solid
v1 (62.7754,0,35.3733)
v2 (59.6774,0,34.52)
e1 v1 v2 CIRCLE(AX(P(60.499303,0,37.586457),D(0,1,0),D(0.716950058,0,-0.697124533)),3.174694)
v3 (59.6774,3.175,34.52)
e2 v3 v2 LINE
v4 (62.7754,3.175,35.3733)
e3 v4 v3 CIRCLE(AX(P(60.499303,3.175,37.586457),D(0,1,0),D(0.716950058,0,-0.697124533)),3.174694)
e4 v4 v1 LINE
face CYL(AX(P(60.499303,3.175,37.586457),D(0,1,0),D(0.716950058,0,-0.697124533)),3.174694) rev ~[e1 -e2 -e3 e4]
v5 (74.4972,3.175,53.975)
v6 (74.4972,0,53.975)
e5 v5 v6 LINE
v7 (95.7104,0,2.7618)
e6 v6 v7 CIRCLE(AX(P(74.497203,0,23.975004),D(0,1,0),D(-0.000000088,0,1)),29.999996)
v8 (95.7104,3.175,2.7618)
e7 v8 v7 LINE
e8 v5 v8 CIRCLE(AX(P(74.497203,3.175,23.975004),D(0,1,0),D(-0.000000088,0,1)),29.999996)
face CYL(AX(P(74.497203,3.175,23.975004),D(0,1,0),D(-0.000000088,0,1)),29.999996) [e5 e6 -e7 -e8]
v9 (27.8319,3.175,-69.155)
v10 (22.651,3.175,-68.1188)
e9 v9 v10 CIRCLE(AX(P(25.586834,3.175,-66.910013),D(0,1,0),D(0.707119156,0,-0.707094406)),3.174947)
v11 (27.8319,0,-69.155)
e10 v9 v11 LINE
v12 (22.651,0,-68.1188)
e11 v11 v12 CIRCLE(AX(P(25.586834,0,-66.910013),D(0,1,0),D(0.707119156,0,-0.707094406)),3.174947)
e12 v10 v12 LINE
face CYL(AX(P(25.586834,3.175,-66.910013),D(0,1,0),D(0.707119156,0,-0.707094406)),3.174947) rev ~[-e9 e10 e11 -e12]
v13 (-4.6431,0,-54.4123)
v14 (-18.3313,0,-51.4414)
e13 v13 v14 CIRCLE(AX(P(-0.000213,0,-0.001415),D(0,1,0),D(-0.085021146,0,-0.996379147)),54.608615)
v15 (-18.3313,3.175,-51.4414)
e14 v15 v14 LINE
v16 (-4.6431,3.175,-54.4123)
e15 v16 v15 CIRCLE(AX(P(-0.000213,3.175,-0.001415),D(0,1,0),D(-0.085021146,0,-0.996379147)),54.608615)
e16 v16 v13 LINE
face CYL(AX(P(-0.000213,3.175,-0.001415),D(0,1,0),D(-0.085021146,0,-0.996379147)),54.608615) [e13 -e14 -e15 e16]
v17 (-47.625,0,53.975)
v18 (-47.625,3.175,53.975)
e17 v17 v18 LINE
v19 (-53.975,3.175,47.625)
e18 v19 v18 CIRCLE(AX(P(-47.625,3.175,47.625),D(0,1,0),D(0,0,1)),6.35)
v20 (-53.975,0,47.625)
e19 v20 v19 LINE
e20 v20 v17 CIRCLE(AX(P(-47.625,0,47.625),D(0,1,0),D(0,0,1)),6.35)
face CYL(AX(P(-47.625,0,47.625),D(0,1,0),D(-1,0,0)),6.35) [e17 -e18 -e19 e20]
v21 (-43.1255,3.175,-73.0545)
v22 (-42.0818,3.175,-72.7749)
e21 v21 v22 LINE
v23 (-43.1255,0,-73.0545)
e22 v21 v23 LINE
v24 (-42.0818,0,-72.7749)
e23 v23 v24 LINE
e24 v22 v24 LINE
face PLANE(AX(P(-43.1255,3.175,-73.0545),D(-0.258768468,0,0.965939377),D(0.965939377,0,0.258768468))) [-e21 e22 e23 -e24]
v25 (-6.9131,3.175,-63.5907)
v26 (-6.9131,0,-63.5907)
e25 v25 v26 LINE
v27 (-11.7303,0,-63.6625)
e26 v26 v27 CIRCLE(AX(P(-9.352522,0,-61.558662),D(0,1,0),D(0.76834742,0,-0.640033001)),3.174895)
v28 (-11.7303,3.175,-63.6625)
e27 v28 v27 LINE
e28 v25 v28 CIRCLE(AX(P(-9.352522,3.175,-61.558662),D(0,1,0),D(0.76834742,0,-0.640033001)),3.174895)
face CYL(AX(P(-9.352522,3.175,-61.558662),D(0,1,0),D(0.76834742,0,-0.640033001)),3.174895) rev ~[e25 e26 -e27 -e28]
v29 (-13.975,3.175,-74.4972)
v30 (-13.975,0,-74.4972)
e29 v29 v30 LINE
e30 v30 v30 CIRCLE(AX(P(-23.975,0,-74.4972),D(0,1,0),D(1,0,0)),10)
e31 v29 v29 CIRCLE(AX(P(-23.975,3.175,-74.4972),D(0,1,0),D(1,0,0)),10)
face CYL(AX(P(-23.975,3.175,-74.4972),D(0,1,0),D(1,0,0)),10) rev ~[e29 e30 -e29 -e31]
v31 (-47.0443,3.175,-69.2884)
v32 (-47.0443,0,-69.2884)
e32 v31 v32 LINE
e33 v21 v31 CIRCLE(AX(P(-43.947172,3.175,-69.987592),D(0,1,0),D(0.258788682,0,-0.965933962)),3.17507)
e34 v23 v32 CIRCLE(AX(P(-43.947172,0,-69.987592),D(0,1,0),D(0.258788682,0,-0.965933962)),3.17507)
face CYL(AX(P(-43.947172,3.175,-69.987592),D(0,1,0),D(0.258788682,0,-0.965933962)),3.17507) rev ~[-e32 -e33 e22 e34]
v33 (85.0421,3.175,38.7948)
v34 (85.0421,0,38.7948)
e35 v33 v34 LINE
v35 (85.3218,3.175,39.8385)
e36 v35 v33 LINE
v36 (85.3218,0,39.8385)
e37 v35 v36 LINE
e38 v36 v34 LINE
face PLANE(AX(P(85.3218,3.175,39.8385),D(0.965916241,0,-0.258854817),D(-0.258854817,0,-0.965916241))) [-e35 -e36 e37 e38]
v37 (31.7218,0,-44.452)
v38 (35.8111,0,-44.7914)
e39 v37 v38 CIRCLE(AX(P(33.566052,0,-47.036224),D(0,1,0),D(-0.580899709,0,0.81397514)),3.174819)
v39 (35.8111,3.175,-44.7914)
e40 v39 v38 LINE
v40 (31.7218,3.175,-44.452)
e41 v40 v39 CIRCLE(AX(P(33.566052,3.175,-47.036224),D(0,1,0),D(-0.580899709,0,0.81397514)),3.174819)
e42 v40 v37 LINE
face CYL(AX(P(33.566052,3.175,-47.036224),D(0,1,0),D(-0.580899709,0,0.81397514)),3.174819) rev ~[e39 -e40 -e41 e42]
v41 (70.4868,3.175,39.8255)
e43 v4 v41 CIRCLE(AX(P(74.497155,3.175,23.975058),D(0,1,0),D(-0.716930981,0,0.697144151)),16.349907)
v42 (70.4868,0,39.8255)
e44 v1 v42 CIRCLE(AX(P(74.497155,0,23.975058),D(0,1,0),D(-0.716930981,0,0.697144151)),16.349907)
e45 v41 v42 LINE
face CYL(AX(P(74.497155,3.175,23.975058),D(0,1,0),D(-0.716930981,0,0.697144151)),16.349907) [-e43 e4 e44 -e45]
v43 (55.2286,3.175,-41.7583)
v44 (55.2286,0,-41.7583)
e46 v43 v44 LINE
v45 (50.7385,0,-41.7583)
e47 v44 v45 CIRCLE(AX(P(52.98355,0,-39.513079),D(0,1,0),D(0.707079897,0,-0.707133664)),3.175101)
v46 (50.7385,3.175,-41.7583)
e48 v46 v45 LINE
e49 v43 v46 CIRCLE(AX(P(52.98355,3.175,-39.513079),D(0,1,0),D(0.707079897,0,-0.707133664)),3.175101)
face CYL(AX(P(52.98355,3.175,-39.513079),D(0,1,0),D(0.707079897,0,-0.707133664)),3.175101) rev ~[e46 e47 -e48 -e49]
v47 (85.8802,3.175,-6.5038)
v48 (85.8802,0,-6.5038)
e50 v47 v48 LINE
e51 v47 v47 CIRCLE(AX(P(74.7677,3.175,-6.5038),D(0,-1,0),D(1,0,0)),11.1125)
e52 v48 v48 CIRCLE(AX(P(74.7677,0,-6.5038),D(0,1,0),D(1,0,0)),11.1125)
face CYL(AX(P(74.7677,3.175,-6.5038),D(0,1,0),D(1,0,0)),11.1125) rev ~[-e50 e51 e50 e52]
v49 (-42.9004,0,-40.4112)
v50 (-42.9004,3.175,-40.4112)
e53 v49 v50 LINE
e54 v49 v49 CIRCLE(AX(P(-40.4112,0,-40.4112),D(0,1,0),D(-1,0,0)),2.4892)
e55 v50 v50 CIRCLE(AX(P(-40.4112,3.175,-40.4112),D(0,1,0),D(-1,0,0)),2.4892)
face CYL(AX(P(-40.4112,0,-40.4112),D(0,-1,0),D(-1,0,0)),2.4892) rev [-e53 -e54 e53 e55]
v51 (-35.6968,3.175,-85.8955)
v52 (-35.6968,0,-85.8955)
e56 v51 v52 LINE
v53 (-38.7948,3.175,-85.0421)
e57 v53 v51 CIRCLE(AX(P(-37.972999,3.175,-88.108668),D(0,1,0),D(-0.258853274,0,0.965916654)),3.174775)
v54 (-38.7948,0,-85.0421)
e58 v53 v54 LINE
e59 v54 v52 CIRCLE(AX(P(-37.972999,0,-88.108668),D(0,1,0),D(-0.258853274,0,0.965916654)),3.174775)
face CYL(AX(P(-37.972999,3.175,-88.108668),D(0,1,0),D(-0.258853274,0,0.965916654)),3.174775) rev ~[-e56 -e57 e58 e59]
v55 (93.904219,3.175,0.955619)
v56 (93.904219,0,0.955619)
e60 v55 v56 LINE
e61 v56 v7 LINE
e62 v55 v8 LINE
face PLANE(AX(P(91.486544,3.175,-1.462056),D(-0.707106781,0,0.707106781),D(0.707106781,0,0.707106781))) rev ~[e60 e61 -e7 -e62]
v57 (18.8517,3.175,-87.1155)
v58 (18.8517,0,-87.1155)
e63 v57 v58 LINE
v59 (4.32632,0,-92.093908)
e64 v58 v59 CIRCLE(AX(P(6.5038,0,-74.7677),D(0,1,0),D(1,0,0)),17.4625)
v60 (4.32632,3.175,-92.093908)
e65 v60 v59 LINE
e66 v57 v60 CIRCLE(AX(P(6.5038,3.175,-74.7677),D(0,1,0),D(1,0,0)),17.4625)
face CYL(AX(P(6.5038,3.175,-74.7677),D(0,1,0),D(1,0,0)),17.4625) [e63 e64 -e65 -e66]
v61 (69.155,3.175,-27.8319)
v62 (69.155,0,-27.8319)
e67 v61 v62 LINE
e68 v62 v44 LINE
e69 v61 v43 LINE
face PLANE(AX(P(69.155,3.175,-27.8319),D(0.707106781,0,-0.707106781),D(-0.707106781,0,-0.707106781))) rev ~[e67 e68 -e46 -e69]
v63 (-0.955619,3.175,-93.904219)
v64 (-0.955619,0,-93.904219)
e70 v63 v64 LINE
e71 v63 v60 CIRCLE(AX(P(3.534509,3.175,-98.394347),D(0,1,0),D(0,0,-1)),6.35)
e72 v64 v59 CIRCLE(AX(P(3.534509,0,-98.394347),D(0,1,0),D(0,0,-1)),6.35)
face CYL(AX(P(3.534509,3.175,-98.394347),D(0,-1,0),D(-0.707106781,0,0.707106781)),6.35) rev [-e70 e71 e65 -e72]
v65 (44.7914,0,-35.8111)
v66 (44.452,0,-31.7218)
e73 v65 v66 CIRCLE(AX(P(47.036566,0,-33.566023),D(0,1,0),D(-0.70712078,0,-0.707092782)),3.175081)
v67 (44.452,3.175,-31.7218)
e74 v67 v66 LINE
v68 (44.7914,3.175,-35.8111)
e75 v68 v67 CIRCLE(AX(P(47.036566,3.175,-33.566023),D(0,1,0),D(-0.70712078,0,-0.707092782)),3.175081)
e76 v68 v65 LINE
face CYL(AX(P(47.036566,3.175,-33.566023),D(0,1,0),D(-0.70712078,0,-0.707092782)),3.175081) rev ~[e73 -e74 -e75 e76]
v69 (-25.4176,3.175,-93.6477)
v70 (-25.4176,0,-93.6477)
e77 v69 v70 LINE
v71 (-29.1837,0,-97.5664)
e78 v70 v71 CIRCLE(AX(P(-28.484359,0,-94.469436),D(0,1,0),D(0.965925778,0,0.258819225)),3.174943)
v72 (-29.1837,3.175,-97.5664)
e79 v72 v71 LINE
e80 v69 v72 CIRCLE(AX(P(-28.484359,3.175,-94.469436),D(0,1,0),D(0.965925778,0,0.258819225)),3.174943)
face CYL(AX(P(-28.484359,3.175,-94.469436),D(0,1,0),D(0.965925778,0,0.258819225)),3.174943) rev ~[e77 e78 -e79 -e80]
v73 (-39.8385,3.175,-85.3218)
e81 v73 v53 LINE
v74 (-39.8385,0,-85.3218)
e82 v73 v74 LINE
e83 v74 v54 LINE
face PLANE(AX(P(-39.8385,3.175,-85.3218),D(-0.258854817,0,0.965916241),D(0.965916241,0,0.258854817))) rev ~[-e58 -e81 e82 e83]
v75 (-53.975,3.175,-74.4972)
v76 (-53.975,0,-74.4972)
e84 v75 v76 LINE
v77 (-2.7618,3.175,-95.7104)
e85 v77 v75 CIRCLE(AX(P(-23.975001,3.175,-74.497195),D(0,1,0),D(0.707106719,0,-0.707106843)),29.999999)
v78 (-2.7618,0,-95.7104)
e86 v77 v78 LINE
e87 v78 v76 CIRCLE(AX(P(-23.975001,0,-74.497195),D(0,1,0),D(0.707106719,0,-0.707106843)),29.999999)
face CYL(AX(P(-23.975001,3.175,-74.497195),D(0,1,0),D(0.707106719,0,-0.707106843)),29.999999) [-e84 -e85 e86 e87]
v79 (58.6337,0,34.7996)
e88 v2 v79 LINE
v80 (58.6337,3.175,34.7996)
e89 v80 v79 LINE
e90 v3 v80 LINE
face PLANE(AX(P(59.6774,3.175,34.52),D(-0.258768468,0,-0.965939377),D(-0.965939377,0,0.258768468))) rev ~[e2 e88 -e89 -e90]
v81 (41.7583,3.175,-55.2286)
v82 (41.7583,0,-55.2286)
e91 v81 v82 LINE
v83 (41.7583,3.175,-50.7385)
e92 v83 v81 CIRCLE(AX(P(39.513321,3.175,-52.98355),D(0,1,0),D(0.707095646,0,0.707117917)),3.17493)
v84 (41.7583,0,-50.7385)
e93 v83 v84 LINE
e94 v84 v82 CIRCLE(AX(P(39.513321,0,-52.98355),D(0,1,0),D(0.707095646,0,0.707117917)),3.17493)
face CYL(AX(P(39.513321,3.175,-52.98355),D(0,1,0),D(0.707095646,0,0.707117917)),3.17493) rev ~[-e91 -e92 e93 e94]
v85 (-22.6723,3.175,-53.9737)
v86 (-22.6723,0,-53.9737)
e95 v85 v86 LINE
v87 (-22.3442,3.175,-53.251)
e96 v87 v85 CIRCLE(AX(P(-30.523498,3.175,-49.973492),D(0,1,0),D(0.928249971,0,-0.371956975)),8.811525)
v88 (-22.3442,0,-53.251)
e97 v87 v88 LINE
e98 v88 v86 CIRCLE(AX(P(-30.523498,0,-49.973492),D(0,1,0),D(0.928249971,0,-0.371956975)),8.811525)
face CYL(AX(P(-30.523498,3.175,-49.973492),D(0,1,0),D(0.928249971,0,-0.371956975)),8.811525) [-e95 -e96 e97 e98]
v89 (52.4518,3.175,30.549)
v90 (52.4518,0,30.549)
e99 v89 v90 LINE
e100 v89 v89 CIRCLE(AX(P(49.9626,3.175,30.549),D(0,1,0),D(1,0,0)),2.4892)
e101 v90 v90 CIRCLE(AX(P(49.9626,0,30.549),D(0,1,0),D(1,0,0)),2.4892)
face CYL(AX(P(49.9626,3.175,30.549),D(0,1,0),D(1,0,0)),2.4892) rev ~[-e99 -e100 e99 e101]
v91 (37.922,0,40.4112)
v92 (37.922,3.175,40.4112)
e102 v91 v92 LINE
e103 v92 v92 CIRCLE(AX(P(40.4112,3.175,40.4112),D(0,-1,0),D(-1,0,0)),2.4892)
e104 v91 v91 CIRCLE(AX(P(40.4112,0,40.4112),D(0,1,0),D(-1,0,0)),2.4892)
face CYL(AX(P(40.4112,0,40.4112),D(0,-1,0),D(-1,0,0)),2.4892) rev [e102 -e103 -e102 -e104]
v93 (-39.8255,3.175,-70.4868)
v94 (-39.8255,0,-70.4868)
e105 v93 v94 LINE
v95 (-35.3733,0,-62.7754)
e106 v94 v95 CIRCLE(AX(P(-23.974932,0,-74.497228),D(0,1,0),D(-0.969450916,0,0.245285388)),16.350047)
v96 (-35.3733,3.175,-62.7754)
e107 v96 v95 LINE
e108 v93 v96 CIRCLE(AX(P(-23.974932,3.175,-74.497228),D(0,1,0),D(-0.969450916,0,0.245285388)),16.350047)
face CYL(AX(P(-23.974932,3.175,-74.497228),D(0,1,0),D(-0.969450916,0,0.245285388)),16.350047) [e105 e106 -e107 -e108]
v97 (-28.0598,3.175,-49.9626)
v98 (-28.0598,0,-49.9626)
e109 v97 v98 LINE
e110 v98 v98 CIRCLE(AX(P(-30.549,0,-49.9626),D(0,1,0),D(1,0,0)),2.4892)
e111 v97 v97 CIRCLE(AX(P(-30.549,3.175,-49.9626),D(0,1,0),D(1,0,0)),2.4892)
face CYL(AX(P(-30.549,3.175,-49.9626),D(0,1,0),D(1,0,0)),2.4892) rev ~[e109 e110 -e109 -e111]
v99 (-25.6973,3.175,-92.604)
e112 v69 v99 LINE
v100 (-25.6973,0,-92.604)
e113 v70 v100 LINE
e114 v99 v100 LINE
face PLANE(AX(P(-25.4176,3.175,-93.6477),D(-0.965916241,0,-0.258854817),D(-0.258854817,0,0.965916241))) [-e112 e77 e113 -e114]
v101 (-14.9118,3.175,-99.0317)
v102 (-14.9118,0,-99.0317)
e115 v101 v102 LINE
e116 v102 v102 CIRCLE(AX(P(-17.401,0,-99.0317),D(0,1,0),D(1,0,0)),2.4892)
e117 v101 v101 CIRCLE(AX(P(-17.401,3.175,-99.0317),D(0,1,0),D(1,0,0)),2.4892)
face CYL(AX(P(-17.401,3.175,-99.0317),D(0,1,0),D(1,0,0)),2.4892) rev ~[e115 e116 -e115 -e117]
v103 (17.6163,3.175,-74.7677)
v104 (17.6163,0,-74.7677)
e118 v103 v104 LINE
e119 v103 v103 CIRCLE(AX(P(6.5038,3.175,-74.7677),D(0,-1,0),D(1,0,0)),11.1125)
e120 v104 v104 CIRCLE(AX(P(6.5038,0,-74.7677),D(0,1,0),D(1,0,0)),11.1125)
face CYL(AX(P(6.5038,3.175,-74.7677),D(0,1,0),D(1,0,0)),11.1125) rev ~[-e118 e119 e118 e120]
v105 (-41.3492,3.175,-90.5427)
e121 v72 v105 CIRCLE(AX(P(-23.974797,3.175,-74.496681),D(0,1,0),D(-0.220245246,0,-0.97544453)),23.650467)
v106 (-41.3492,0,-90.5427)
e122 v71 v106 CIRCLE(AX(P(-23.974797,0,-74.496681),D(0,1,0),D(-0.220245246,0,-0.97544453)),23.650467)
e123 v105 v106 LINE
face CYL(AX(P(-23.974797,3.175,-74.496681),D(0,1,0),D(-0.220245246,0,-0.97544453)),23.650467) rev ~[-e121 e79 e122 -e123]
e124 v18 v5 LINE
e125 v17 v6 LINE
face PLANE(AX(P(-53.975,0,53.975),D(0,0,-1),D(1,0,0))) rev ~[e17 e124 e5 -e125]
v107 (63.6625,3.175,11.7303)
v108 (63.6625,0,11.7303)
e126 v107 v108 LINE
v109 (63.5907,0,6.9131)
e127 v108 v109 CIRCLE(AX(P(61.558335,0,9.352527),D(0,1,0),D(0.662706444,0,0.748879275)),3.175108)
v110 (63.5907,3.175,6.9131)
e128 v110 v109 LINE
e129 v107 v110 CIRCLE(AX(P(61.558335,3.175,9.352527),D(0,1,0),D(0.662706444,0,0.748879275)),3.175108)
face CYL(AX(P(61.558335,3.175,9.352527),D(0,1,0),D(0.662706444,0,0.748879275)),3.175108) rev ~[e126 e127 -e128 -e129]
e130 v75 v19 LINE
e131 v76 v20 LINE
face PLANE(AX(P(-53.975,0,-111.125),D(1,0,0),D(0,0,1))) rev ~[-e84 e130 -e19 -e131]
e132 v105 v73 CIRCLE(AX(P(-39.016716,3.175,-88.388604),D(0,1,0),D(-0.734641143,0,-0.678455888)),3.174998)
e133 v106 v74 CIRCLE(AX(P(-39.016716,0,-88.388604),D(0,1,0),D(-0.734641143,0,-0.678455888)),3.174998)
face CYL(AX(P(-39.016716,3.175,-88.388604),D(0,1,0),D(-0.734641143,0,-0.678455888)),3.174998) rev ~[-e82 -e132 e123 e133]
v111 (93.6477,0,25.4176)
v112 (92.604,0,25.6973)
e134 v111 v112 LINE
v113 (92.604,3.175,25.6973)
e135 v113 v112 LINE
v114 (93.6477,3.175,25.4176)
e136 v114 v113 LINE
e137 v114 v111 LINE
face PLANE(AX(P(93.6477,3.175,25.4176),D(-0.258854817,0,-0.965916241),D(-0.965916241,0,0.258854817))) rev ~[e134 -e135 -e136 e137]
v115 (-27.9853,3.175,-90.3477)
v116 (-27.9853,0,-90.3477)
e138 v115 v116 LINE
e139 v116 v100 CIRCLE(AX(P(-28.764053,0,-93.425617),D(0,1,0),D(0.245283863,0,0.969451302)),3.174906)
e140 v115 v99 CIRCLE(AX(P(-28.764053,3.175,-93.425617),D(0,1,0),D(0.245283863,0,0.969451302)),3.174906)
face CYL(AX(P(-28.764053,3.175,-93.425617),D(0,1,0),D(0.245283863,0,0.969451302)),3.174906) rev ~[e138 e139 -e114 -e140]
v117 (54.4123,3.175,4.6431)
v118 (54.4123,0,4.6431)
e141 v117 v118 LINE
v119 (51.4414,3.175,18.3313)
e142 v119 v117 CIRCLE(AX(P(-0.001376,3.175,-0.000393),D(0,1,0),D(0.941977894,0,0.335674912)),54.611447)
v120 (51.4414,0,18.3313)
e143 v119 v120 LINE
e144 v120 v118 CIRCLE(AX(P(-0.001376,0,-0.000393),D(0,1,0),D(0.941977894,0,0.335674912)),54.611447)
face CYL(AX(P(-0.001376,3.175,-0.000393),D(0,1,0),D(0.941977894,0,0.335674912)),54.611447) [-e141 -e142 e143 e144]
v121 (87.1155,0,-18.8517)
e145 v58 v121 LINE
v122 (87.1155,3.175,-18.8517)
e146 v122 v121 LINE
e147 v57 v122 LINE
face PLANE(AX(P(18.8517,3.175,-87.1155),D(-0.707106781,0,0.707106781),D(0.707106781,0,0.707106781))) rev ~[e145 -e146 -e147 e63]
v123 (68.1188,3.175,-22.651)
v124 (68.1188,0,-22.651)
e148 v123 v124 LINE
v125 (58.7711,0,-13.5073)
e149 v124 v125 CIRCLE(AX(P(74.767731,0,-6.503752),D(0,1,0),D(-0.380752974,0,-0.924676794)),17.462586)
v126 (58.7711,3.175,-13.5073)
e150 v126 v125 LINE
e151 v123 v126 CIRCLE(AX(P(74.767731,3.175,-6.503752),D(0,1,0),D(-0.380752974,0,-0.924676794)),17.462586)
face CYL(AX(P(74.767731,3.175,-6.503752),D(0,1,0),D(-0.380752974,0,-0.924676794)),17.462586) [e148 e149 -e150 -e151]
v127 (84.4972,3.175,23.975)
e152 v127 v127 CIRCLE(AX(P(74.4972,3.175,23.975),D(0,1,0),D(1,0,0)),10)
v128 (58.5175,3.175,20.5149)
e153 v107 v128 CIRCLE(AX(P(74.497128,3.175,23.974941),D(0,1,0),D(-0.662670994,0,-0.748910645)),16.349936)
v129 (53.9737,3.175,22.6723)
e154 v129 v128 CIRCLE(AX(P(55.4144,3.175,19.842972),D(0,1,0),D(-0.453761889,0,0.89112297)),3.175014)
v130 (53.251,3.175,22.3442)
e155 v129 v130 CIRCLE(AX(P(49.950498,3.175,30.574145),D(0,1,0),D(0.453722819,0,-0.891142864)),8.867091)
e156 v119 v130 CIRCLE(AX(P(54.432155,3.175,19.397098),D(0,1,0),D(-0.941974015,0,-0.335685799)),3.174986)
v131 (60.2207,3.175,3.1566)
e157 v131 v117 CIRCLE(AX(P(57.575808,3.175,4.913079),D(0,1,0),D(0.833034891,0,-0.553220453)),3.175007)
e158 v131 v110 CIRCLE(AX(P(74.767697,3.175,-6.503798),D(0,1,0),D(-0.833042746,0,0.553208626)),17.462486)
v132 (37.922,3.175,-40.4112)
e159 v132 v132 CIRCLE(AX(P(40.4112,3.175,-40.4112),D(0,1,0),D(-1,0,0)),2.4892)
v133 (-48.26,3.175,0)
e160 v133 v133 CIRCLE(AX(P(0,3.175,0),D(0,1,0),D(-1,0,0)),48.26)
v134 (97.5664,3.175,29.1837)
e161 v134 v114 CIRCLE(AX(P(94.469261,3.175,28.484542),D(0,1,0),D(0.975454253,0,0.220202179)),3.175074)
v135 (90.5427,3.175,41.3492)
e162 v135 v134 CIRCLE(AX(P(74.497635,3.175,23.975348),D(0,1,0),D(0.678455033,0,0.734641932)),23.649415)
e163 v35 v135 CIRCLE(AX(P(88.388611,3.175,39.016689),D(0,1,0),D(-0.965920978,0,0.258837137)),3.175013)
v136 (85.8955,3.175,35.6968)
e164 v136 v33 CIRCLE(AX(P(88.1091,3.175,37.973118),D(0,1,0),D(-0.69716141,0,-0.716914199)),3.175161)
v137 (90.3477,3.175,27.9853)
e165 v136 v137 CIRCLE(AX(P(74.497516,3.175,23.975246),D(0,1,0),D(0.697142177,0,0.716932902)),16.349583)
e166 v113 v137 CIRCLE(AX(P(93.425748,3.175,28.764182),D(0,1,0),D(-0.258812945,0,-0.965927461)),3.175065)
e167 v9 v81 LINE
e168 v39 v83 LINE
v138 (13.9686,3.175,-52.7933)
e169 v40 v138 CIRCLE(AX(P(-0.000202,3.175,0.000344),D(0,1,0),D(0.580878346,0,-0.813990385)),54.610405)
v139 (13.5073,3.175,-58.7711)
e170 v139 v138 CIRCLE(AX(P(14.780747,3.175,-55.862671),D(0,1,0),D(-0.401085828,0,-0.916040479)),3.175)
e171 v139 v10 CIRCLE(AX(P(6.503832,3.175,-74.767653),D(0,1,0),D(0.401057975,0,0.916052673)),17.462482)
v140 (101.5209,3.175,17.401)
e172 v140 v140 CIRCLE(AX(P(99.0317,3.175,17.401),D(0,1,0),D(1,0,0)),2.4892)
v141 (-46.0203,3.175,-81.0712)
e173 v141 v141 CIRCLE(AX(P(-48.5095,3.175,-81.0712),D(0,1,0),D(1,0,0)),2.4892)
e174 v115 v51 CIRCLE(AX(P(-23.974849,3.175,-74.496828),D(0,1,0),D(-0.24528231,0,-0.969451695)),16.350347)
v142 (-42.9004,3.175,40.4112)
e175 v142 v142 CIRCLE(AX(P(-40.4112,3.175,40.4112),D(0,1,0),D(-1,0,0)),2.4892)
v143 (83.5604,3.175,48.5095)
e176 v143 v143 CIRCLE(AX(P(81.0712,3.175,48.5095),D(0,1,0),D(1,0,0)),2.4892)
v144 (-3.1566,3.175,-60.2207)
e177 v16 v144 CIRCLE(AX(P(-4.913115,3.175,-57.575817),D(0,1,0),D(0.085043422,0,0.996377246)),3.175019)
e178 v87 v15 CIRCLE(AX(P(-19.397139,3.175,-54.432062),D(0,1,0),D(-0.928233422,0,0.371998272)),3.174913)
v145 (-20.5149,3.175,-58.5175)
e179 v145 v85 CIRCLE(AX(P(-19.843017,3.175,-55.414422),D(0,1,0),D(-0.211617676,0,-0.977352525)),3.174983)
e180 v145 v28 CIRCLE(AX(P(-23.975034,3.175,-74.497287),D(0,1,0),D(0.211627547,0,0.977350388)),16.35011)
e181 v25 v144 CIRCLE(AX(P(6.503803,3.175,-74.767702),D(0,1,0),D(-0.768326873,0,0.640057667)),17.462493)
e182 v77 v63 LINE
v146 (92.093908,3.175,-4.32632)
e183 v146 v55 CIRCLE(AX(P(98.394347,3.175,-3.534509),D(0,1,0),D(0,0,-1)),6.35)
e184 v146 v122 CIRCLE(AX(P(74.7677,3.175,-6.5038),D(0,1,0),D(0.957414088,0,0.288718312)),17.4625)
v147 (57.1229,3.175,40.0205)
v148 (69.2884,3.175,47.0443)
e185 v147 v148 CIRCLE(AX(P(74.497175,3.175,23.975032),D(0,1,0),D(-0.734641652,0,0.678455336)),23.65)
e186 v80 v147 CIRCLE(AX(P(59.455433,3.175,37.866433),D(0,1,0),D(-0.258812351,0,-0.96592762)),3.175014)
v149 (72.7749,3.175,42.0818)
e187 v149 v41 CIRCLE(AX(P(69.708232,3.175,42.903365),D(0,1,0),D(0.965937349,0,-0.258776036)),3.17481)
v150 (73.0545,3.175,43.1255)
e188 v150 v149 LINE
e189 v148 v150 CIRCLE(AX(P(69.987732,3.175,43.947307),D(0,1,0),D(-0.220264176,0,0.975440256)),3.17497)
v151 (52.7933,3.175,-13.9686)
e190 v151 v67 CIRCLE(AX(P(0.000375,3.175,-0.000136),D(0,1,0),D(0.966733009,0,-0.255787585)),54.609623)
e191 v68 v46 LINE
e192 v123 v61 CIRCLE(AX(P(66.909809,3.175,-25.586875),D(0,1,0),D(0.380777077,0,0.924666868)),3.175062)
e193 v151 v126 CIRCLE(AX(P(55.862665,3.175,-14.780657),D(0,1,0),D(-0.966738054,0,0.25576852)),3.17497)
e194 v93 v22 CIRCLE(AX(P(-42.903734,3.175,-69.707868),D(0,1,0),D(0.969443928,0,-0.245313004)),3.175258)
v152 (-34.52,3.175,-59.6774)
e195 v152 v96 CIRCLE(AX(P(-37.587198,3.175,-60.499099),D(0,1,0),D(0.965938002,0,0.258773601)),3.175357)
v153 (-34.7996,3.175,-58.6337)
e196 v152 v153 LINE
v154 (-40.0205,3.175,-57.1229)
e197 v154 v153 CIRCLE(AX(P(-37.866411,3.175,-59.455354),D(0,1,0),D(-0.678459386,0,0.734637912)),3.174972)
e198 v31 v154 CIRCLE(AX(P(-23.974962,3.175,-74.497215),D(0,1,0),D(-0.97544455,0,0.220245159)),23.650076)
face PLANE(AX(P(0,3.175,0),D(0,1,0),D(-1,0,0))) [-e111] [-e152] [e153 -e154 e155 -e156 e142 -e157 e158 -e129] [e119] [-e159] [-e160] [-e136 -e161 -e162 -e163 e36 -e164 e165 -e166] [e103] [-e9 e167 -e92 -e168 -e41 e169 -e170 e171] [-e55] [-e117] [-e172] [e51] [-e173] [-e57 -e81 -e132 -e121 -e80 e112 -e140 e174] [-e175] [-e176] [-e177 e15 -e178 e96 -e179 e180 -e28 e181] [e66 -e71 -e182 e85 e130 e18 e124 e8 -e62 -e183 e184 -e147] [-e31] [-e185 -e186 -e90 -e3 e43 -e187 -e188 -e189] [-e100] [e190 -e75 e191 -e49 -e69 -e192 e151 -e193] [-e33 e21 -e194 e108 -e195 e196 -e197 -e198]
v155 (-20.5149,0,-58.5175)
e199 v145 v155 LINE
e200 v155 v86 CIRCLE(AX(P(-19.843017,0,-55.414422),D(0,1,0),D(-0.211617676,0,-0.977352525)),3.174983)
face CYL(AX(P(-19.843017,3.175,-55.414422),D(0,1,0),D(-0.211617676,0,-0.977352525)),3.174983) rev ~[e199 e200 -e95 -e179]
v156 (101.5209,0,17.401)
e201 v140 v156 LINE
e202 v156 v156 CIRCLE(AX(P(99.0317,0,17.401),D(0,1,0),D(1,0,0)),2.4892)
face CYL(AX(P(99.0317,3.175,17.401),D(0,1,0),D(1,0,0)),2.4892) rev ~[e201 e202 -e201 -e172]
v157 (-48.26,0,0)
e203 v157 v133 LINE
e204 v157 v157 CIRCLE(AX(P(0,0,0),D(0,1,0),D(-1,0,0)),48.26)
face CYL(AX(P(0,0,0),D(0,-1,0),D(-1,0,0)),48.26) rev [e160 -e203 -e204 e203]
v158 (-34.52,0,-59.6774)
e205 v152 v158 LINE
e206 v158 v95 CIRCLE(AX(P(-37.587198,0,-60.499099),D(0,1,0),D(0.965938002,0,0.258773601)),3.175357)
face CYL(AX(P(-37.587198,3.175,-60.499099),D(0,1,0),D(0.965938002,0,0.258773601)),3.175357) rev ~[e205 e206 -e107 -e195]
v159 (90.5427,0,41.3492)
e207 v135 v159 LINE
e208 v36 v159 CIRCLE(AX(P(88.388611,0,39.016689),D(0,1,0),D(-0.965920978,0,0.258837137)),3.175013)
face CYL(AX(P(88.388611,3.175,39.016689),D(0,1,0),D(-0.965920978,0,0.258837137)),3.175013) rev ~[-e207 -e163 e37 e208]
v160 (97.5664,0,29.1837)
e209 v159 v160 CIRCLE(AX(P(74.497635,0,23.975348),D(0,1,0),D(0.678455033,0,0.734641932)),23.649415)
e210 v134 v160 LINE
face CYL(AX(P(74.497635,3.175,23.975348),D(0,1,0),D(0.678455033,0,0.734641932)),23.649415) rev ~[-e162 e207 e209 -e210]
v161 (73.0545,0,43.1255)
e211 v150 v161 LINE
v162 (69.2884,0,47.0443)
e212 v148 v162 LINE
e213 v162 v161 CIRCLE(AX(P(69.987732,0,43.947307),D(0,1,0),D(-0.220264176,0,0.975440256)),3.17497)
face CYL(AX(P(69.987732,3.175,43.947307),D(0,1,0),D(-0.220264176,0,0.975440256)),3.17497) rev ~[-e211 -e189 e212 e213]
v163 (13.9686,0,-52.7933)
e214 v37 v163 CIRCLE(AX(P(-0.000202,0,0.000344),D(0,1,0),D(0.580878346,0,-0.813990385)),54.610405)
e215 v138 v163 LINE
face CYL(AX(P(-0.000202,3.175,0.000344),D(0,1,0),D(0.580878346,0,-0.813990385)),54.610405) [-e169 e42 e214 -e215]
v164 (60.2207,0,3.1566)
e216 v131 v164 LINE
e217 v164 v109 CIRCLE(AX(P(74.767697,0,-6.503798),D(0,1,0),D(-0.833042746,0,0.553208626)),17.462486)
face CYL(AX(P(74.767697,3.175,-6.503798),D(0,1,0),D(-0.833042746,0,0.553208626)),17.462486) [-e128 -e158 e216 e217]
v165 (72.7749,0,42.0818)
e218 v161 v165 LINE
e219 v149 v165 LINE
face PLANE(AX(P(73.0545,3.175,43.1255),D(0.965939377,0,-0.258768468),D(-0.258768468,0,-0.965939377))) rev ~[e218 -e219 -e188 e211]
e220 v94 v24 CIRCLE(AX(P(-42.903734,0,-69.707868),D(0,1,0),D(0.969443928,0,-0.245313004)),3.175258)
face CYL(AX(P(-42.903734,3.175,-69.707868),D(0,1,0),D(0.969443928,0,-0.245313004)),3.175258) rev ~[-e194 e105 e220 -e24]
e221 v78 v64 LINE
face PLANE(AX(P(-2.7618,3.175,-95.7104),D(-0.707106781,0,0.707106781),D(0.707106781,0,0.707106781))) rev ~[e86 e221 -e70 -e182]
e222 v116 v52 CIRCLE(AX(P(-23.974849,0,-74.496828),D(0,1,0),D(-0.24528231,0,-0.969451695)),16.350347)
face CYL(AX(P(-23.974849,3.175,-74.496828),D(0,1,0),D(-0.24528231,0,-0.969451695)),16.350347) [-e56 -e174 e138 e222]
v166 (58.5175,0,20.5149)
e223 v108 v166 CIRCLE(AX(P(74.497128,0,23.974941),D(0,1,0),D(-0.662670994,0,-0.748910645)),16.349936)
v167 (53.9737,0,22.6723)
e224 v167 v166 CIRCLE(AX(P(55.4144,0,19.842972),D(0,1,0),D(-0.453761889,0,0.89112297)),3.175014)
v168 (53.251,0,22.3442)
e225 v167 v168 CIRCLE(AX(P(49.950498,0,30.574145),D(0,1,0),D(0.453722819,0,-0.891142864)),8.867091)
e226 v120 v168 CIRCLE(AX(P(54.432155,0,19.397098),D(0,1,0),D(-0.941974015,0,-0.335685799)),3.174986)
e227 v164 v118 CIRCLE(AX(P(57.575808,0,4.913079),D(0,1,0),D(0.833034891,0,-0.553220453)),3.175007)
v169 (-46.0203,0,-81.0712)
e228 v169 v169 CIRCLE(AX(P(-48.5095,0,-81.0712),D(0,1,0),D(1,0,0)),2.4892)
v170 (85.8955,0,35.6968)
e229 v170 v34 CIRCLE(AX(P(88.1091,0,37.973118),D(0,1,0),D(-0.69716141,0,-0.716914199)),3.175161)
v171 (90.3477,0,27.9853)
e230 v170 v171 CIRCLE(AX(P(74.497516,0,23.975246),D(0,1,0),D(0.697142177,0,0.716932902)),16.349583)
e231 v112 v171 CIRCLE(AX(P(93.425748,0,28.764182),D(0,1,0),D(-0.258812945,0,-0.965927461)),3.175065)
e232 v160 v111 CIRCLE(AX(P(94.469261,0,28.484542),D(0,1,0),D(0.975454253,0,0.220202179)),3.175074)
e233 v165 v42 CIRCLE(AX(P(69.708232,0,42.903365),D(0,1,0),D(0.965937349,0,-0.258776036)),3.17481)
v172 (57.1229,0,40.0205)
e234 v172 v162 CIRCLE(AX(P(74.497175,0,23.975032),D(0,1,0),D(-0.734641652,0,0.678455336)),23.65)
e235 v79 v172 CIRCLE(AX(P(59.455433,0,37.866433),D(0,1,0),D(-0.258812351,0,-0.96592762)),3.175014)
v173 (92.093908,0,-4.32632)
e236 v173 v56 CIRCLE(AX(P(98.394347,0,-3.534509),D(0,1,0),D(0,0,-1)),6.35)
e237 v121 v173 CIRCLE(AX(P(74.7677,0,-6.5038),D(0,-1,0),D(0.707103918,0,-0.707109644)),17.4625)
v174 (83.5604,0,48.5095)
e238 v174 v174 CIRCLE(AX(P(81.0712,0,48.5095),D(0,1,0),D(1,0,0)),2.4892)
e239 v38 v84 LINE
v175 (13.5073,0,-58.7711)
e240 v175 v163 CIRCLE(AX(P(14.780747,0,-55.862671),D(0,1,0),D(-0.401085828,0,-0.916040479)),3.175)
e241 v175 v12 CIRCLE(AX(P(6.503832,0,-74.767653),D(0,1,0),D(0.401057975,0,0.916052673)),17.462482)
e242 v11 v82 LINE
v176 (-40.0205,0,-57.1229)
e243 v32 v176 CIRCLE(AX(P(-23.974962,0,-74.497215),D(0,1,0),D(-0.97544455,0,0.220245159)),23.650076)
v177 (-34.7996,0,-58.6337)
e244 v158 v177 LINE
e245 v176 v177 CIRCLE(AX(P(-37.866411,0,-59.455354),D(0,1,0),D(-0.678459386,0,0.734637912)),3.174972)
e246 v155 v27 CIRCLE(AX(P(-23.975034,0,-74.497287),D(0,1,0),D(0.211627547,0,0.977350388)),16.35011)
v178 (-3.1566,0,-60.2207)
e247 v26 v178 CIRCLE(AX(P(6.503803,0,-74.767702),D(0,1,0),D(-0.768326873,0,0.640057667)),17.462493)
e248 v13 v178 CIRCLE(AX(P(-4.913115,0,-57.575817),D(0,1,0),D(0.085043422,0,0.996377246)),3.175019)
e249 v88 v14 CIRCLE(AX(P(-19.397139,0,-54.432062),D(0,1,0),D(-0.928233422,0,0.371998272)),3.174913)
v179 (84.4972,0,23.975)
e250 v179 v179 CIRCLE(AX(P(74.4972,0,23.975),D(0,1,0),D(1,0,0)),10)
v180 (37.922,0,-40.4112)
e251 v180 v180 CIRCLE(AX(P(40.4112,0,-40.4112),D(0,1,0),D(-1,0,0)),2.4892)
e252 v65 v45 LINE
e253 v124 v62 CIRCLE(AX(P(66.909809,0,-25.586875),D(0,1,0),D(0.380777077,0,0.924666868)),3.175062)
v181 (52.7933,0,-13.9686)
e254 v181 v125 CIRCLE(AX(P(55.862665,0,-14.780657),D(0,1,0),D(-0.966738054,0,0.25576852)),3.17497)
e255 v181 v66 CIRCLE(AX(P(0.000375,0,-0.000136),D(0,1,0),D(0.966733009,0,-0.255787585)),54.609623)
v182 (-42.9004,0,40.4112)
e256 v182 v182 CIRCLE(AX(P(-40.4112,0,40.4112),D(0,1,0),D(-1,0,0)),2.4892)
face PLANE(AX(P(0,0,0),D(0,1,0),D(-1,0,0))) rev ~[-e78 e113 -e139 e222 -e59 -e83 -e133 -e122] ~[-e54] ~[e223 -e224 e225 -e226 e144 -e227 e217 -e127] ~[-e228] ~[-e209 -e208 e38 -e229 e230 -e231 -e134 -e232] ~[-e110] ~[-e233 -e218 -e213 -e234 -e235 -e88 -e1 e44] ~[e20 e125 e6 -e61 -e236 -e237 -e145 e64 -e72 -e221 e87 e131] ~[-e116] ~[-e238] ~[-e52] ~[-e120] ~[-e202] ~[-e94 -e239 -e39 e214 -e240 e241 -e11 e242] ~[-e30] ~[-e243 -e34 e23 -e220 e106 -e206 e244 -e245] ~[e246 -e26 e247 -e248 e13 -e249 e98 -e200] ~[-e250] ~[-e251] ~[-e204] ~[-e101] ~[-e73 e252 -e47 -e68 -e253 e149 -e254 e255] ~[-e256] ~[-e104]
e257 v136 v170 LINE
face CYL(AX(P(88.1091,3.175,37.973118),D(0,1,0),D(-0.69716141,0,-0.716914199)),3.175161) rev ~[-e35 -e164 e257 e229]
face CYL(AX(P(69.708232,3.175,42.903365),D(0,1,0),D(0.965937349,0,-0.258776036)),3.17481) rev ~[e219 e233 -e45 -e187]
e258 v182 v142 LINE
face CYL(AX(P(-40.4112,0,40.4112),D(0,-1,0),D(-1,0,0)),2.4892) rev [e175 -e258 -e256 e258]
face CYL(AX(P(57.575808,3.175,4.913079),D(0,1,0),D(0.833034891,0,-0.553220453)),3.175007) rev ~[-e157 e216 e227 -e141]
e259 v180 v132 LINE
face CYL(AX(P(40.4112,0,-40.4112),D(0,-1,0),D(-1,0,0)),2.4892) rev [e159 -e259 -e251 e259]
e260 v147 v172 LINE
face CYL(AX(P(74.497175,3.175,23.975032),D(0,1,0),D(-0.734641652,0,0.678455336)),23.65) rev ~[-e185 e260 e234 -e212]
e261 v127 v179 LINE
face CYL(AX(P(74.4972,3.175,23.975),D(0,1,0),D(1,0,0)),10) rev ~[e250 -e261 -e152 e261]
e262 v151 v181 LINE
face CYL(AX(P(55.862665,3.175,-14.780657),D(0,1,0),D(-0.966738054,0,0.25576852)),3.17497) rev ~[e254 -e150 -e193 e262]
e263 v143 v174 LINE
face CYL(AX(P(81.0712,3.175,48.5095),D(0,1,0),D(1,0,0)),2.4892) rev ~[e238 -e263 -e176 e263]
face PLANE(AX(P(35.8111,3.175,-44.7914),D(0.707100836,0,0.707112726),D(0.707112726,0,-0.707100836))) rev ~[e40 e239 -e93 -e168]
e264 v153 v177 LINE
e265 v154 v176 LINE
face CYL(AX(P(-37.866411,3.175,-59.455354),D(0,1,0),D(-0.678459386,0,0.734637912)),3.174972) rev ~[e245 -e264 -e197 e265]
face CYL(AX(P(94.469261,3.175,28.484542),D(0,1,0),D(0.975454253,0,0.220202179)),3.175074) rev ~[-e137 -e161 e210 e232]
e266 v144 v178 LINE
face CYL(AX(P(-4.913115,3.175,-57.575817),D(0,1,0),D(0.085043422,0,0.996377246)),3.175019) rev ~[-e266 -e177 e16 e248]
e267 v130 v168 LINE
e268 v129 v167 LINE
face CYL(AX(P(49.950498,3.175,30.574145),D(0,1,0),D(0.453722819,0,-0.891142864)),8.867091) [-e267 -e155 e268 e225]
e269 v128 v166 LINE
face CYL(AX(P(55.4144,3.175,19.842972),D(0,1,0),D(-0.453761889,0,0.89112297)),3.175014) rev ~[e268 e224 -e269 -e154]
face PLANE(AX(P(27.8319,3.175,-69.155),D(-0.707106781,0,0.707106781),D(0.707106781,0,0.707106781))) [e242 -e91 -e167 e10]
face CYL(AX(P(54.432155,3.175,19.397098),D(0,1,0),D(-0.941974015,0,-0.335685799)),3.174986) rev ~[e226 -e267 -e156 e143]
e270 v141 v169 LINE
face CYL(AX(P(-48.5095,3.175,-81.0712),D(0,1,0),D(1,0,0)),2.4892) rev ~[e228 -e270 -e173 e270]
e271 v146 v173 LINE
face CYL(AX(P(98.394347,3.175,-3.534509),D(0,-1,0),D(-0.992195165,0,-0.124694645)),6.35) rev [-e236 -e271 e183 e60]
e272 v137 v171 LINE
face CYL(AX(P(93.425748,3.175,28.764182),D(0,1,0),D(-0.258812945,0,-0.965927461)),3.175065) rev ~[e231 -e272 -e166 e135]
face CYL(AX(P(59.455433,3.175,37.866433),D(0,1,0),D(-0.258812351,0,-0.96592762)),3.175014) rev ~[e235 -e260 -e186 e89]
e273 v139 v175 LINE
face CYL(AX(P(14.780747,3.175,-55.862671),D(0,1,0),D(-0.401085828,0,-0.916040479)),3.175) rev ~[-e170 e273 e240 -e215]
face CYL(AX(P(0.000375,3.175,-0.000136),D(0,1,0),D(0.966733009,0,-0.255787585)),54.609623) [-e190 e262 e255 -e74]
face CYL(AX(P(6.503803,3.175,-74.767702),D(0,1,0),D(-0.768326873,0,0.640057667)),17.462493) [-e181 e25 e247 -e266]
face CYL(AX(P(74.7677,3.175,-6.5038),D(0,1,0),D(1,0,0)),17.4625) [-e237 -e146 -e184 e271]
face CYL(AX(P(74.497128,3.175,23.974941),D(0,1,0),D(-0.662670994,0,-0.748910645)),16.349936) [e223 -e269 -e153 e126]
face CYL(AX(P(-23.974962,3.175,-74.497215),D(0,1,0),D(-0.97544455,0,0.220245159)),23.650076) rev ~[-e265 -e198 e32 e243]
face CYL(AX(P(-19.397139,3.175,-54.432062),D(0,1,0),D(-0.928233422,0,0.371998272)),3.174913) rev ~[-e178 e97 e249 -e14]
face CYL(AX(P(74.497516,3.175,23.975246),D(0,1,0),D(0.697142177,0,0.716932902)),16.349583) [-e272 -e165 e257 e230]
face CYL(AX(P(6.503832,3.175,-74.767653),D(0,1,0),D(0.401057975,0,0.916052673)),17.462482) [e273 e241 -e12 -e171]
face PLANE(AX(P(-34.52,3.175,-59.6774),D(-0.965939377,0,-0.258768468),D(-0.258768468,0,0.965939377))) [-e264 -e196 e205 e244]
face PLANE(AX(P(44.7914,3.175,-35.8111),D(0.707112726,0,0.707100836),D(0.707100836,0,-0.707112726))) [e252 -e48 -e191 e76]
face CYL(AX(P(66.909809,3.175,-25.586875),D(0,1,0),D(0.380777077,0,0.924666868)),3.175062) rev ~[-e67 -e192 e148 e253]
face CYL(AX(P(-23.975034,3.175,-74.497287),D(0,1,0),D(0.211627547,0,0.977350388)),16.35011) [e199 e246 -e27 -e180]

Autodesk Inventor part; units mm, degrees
ref_plane "YZ Plane" through (0, 0, 0) normal (1, 0, 0) x (0, 1, 0)
ref_plane "XZ Plane" through (0, 0, 0) normal (0, 1, 0) x (-1, 0, 0)
ref_plane "XY Plane" through (0, 0, 0) normal (0, 0, 1) x (1, 0, 0)
sketch "Sketch1" plane through (0, 0, 0) normal (0, 1, 0) x (-1, 0, 0)
  circle A0 centre (0, 0) radius 48.26
  circle A1 centre (0, 0) radius 57.15 construction
  circle A2 centre (40.4112, -40.4112) radius 2.4892
  circle A3 centre (-40.4112, -40.4112) radius 2.4892
  circle A4 centre (-40.4112, 40.4112) radius 2.4892
  circle A5 centre (40.4112, 40.4112) radius 2.4892
  line L0 (40.4112, -40.4112) -> (40.4112, 40.4112) construction
  line L1 (40.4112, 40.4112) -> (-40.4112, 40.4112) construction
  line L2 (53.975, 53.975) -> (-111.125, 53.975)
  line L3 (-111.125, 53.975) -> (-111.125, -111.125)
  line L4 (-111.125, -111.125) -> (53.975, -111.125)
  line L5 (53.975, -111.125) -> (53.975, 53.975)
  circle A6 centre (0, 0) radius 53.975 construction
  dimension "d0" = 96.52
  dimension "d1" = 114.3
  dimension "d2" = 4.9784
  dimension "d3" = 107.95
  dimension "d8" = 165.1
extrude "Extrusion1" add sketch "Sketch1" along normal blind 3.175
sketch "Sketch2" plane through (0, 3.175, 0) normal (0, 1, 0) x (1, 0, 0)
  circle A0 centre (0, 0) radius 75.05 construction
  circle A1 centre (6.5038, 74.7677) radius 22.86 construction
  circle A2 centre (-23.975, 74.4972) radius 7.62 construction
  circle A3 centre (-23.975, 74.4972) radius 30 construction
  line L0 (-53.975, 111.125) -> (-53.975, -53.975) construction
  circle A4 centre (-40.4112, 40.4112) radius 2.4892 construction
  circle A5 centre (-23.975, 74.4972) radius 10
  circle A6 centre (6.5038, 74.7677) radius 11.1125
  circle A7 centre (-23.975, 74.4972) radius 25.4 construction
  line L1 (-53.975, -53.975) -> (111.125, -53.975) construction
  line L2 (111.125, -53.975) -> (111.125, 111.125) construction
  line L3 (-53.975, -53.975) -> (111.125, 111.125) construction
  circle A8 centre (74.4972, -23.975) radius 10
  circle A9 centre (74.7677, 6.5038) radius 11.1125
  line L4 (-48.5095, 81.0712) -> (-17.401, 99.0317) construction
  line L5 (-17.401, 99.0317) -> (0.5595, 67.9232) construction
  line L6 (0.5595, 67.9232) -> (-30.549, 49.9626) construction
  line L7 (-30.549, 49.9626) -> (-48.5095, 81.0712) construction
  circle A10 centre (-48.5095, 81.0712) radius 2.4892
  circle A11 centre (40.4112, -40.4112) radius 2.4892 construction
  circle A12 centre (40.4112, -40.4112) radius 2.4892
  circle A13 centre (81.0712, -48.5095) radius 2.4892
  circle A14 centre (-17.401, 99.0317) radius 2.4892
  circle A15 centre (0.5595, 67.9232) radius 2.4892
  circle A16 centre (99.0317, -17.401) radius 2.4892
  circle A17 centre (67.9232, 0.5595) radius 2.4892
  line L8 (111.125, 111.125) -> (-53.975, 111.125) projected
  circle A18 centre (0, 0) radius 48.26 projected
  circle A19 centre (-30.549, 49.9626) radius 2.4892
  circle A20 centre (49.9626, -30.549) radius 2.4892
  point P0 (-6.6266, 81.4577)
  point P1 (-8.533, 76.8596)
  point P2 (81.4577, -6.6266)
  point P3 (76.8596, -8.533)
  dimension "d9" = 150.1
  dimension "d10" = 45.72
  dimension "d11" = 15.24
  dimension "d13" = 60
  dimension "d16" = 20
  dimension "d17" = 50.8
  dimension "d18" = 22.225
  dimension "d114" = 30
extrude "Extrusion2" cut sketch "Sketch2" against normal blind 6.35 contours A5 | A6 A15 | A15 A6 | A8 | A9 A17 | A17 A9 | A10 | A12 | A13 | A14 | A16 | A19 | A20 picked at (9.8961, 78.6539) picked at (0.154, 67.5729) picked at (79.0892, 9.3447) picked at (67.5155, 0.2253)
sketch "Sketch5" plane through (0, 3.175, 0) normal (0, 1, 0) x (1, 0, 0)
  circle A0 centre (-23.975, 74.4972) radius 10 projected
  line L0 (-53.975, 111.125) -> (-53.975, -53.975) projected
  arc A1 (-2.7618, 95.7104) -> (-53.975, 74.4972) centre (-23.975, 74.4972) ccw
  circle A2 centre (74.4972, -23.975) radius 10 projected
  line L1 (-53.975, -53.975) -> (111.125, -53.975) projected
  arc A3 (74.4972, -53.975) -> (95.7104, -2.7618) centre (74.4972, -23.975) ccw
  circle A4 centre (6.5038, 74.7677) radius 11.1125 projected
  circle A5 centre (6.5038, 74.7677) radius 17.4625
  circle A6 centre (74.7677, 6.5038) radius 11.1125 projected
  circle A7 centre (74.7677, 6.5038) radius 17.4625
  line L2 (18.8517, 87.1155) -> (87.1155, 18.8517)
  line L3 (111.125, 111.125) -> (-53.975, 111.125) projected
  line L4 (111.125, -53.975) -> (111.125, 111.125) projected
  line L5 (-2.7618, 95.7104) -> (95.7104, -2.7618)
  point P0 (0, 0)
  point P1 (13.193, 90.8982)
  point P2 (90.8982, 13.193)
  point P3 (1.4621, 91.4865)
  point P4 (91.4865, 1.4621)
  point P5 (23.2226, 69.7259)
  point P6 (69.7259, 23.2226)
  dimension "d70" = 34.925
extrude "Extrusion5" cut sketch "Sketch5" against normal blind 6.35 contours L3 L4 L1 A3 L5 A7 L2 A5 A1 L0
fillet "Fillet3" radius 6.35 3 edges at (-53.975, 1.5875, 53.975) (91.4865, 1.5875, -1.4621) (1.4621, 1.5875, -91.4865)
sketch "Sketch6" plane through (0, 3.175, 0) normal (0, 1, 0) x (1, 0, 0)
  circle A0 centre (6.5038, 74.7677) radius 11.1125 projected
  arc A1 (13.5073, 58.7711) -> (22.651, 68.1188) centre (6.5038, 74.7677) ccw
  circle A2 centre (74.7677, 6.5038) radius 11.1125 projected
  circle A3 centre (40.4112, 40.4112) radius 2.4892 construction
  line L0 (0, 0) -> (40.4112, 40.4112) construction
  line L1 (35.8111, 44.7914) -> (41.7583, 50.7385)
  line L2 (27.8319, 69.155) -> (41.7583, 55.2286)
  arc A4 (31.7218, 44.452) -> (13.9686, 52.7933) centre (0, 0) ccw
  line L3 (87.1155, 18.8517) -> (18.8517, 87.1155) projected
  circle A5 centre (0, 0) radius 48.26 projected
  arc A6 (13.5073, 58.7711) -> (13.9686, 52.7933) centre (14.7807, 55.8627) ccw
  arc A7 (31.7218, 44.452) -> (35.8111, 44.7914) centre (33.5661, 47.0364) ccw
  arc A8 (41.7583, 50.7385) -> (41.7583, 55.2286) centre (39.5132, 52.9836) ccw
  arc A9 (27.8319, 69.155) -> (22.651, 68.1188) centre (25.5868, 66.9099) ccw
  circle A10 centre (-23.975, 74.4972) radius 10 projected
  arc A11 (-20.5149, 58.5175) -> (-11.7303, 63.6625) centre (-23.975, 74.4972) ccw
  arc A12 (-6.9131, 63.5907) -> (-3.1566, 60.2207) centre (6.5038, 74.7677) ccw
  arc A13 (-4.6431, 54.4123) -> (-18.3313, 51.4414) centre (0, 0) ccw
  circle A14 centre (-30.549, 49.9626) radius 2.4892 projected
  arc A15 (-22.3442, 53.251) -> (-22.6723, 53.9737) centre (-30.549, 49.9626) ccw
  arc A16 (-6.9131, 63.5907) -> (-11.7303, 63.6625) centre (-9.3526, 61.5585) ccw
  arc A17 (-20.5149, 58.5175) -> (-22.6723, 53.9737) centre (-19.843, 55.4144) ccw
  arc A18 (-22.3442, 53.251) -> (-18.3313, 51.4414) centre (-19.3971, 54.4321) ccw
  arc A19 (-4.6431, 54.4123) -> (-3.1566, 60.2207) centre (-4.9131, 57.5758) ccw
  line L4 (-53.975, 74.4972) -> (-53.975, -47.625) projected
  circle A20 centre (-48.5095, 81.0712) radius 2.4892 projected
  circle A21 centre (-40.4112, 40.4112) radius 2.4892 projected
  circle A22 centre (-17.401, 99.0317) radius 2.4892 projected
  arc A23 (-2.7618, 95.7104) -> (-53.975, 74.4972) centre (-23.975, 74.4972) ccw projected
  arc A24 (68.1188, 22.651) -> (58.7711, 13.5073) centre (74.7677, 6.5038) ccw
  line L5 (44.7914, 35.8111) -> (50.7385, 41.7583)
  line L6 (69.155, 27.8319) -> (55.2286, 41.7583)
  arc A25 (52.7933, 13.9686) -> (44.452, 31.7218) centre (0, 0) ccw
  arc A26 (52.7933, 13.9686) -> (58.7711, 13.5073) centre (55.8627, 14.7807) ccw
  arc A27 (44.7914, 35.8111) -> (44.452, 31.7218) centre (47.0364, 33.5661) ccw
  arc A28 (55.2286, 41.7583) -> (50.7385, 41.7583) centre (52.9836, 39.5132) ccw
  arc A29 (68.1188, 22.651) -> (69.155, 27.8319) centre (66.9099, 25.5868) ccw
  arc A30 (63.6625, -11.7303) -> (58.5175, -20.5149) centre (74.4972, -23.975) ccw
  arc A31 (60.2207, -3.1566) -> (63.5907, -6.9131) centre (74.7677, 6.5038) ccw
  arc A32 (51.4414, -18.3313) -> (54.4123, -4.6431) centre (0, 0) ccw
  arc A33 (53.9737, -22.6723) -> (53.251, -22.3442) centre (49.9626, -30.549) ccw
  arc A34 (63.6625, -11.7303) -> (63.5907, -6.9131) centre (61.5585, -9.3526) ccw
  arc A35 (53.9737, -22.6723) -> (58.5175, -20.5149) centre (55.4144, -19.843) ccw
  arc A36 (51.4414, -18.3313) -> (53.251, -22.3442) centre (54.4321, -19.3971) ccw
  arc A37 (60.2207, -3.1566) -> (54.4123, -4.6431) centre (57.5758, -4.9131) ccw
  line L7 (-23.975, 74.4972) -> (-48.5095, 81.0712) construction
  line L8 (-23.975, 74.4972) -> (-17.401, 99.0317) construction
  line L9 (-39.8385, 85.3218) -> (-38.7948, 85.0421)
  line L10 (-25.4176, 93.6477) -> (-25.6973, 92.604)
  arc A38 (-29.1837, 97.5664) -> (-41.3492, 90.5427) centre (-23.975, 74.4972) ccw
  arc A39 (-27.9853, 90.3477) -> (-35.6968, 85.8955) centre (-23.975, 74.4972) ccw
  arc A40 (-41.3492, 90.5427) -> (-39.8385, 85.3218) centre (-39.0167, 88.3886) ccw
  arc A41 (-38.7948, 85.0421) -> (-35.6968, 85.8955) centre (-37.973, 88.1089) ccw
  arc A42 (-25.4176, 93.6477) -> (-29.1837, 97.5664) centre (-28.4845, 94.4694) ccw
  arc A43 (-27.9853, 90.3477) -> (-25.6973, 92.604) centre (-28.7641, 93.4257) ccw
  line L11 (85.3218, -39.8385) -> (85.0421, -38.7948)
  line L12 (93.6477, -25.4176) -> (92.604, -25.6973)
  arc A44 (90.5427, -41.3492) -> (97.5664, -29.1837) centre (74.4972, -23.975) ccw
  arc A45 (85.8955, -35.6968) -> (90.3477, -27.9853) centre (74.4972, -23.975) ccw
  arc A46 (85.3218, -39.8385) -> (90.5427, -41.3492) centre (88.3886, -39.0167) ccw
  arc A47 (85.8955, -35.6968) -> (85.0421, -38.7948) centre (88.1089, -37.973) ccw
  arc A48 (97.5664, -29.1837) -> (93.6477, -25.4176) centre (94.4694, -28.4845) ccw
  arc A49 (92.604, -25.6973) -> (90.3477, -27.9853) centre (93.4257, -28.7641) ccw
  line L13 (-23.975, 74.4972) -> (-30.549, 49.9626) construction
  line L14 (-43.1255, 73.0545) -> (-42.0818, 72.7749)
  line L15 (-34.52, 59.6774) -> (-34.7996, 58.6337)
  arc A50 (-47.0443, 69.2884) -> (-40.0205, 57.1229) centre (-23.975, 74.4972) ccw
  arc A51 (-39.8255, 70.4868) -> (-35.3733, 62.7754) centre (-23.975, 74.4972) ccw
  arc A52 (-43.1255, 73.0545) -> (-47.0443, 69.2884) centre (-43.9472, 69.9877) ccw
  arc A53 (-39.8255, 70.4868) -> (-42.0818, 72.7749) centre (-42.9035, 69.708) ccw
  arc A54 (-34.52, 59.6774) -> (-35.3733, 62.7754) centre (-37.5868, 60.4991) ccw
  arc A55 (-40.0205, 57.1229) -> (-34.7996, 58.6337) centre (-37.8664, 59.4554) ccw
  line L16 (73.0545, -43.1255) -> (72.7749, -42.0818)
  line L17 (59.6774, -34.52) -> (58.6337, -34.7996)
  arc A56 (57.1229, -40.0205) -> (69.2884, -47.0443) centre (74.4972, -23.975) ccw
  arc A57 (62.7754, -35.3733) -> (70.4868, -39.8255) centre (74.4972, -23.975) ccw
  arc A58 (69.2884, -47.0443) -> (73.0545, -43.1255) centre (69.9877, -43.9472) ccw
  arc A59 (72.7749, -42.0818) -> (70.4868, -39.8255) centre (69.708, -42.9035) ccw
  arc A60 (62.7754, -35.3733) -> (59.6774, -34.52) centre (60.4991, -37.5868) ccw
  arc A61 (58.6337, -34.7996) -> (57.1229, -40.0205) centre (59.4554, -37.8664) ccw
  point P0 (-47.6238, 74.2598)
  point P1 (-40.1716, 72.263)
  point P2 (-36.0049, 54.1354)
  point P3 (-34.0081, 61.5875)
  dimension "d72" = 6.35
  dimension "d73" = 6.35
  dimension "d74" = 6.35
  dimension "d76" = 3.175
  dimension "d77" = 6.35
  dimension "d78" = 6.35
  dimension "d79" = 6.35
  dimension "d82" = 6.35
  dimension "d83" = 6.35
  dimension "d102" = 6.35
  dimension "d103" = 6.35
  dimension "d104" = 6.35
  dimension "d105" = 6.35
  dimension "d110" = 6.35
  dimension "d111" = 6.35
  dimension "d112" = 6.35
extrude "Extrusion6" cut sketch "Sketch6" against normal through all contours A1 A9 L2 A8 L1 A7 A4 A6 | A11 A16 A12 A19 A13 A18 A15 A17 | A24 A26 A25 A27 L5 A28 L6 A29 | A30 A35 A33 A36 A32 A37 A31 A34 | A40 A38 A42 L10 A43 A39 A41 L9 | L11 A47 A45 A49 L12 A48 A44 A46 | L14 A53 A51 A54 L15 A55 A50 A52 | A58 A56 A61 L17 A60 A57 A59 L16
properties part number "TopPlate" material "Aluminum 6061"
